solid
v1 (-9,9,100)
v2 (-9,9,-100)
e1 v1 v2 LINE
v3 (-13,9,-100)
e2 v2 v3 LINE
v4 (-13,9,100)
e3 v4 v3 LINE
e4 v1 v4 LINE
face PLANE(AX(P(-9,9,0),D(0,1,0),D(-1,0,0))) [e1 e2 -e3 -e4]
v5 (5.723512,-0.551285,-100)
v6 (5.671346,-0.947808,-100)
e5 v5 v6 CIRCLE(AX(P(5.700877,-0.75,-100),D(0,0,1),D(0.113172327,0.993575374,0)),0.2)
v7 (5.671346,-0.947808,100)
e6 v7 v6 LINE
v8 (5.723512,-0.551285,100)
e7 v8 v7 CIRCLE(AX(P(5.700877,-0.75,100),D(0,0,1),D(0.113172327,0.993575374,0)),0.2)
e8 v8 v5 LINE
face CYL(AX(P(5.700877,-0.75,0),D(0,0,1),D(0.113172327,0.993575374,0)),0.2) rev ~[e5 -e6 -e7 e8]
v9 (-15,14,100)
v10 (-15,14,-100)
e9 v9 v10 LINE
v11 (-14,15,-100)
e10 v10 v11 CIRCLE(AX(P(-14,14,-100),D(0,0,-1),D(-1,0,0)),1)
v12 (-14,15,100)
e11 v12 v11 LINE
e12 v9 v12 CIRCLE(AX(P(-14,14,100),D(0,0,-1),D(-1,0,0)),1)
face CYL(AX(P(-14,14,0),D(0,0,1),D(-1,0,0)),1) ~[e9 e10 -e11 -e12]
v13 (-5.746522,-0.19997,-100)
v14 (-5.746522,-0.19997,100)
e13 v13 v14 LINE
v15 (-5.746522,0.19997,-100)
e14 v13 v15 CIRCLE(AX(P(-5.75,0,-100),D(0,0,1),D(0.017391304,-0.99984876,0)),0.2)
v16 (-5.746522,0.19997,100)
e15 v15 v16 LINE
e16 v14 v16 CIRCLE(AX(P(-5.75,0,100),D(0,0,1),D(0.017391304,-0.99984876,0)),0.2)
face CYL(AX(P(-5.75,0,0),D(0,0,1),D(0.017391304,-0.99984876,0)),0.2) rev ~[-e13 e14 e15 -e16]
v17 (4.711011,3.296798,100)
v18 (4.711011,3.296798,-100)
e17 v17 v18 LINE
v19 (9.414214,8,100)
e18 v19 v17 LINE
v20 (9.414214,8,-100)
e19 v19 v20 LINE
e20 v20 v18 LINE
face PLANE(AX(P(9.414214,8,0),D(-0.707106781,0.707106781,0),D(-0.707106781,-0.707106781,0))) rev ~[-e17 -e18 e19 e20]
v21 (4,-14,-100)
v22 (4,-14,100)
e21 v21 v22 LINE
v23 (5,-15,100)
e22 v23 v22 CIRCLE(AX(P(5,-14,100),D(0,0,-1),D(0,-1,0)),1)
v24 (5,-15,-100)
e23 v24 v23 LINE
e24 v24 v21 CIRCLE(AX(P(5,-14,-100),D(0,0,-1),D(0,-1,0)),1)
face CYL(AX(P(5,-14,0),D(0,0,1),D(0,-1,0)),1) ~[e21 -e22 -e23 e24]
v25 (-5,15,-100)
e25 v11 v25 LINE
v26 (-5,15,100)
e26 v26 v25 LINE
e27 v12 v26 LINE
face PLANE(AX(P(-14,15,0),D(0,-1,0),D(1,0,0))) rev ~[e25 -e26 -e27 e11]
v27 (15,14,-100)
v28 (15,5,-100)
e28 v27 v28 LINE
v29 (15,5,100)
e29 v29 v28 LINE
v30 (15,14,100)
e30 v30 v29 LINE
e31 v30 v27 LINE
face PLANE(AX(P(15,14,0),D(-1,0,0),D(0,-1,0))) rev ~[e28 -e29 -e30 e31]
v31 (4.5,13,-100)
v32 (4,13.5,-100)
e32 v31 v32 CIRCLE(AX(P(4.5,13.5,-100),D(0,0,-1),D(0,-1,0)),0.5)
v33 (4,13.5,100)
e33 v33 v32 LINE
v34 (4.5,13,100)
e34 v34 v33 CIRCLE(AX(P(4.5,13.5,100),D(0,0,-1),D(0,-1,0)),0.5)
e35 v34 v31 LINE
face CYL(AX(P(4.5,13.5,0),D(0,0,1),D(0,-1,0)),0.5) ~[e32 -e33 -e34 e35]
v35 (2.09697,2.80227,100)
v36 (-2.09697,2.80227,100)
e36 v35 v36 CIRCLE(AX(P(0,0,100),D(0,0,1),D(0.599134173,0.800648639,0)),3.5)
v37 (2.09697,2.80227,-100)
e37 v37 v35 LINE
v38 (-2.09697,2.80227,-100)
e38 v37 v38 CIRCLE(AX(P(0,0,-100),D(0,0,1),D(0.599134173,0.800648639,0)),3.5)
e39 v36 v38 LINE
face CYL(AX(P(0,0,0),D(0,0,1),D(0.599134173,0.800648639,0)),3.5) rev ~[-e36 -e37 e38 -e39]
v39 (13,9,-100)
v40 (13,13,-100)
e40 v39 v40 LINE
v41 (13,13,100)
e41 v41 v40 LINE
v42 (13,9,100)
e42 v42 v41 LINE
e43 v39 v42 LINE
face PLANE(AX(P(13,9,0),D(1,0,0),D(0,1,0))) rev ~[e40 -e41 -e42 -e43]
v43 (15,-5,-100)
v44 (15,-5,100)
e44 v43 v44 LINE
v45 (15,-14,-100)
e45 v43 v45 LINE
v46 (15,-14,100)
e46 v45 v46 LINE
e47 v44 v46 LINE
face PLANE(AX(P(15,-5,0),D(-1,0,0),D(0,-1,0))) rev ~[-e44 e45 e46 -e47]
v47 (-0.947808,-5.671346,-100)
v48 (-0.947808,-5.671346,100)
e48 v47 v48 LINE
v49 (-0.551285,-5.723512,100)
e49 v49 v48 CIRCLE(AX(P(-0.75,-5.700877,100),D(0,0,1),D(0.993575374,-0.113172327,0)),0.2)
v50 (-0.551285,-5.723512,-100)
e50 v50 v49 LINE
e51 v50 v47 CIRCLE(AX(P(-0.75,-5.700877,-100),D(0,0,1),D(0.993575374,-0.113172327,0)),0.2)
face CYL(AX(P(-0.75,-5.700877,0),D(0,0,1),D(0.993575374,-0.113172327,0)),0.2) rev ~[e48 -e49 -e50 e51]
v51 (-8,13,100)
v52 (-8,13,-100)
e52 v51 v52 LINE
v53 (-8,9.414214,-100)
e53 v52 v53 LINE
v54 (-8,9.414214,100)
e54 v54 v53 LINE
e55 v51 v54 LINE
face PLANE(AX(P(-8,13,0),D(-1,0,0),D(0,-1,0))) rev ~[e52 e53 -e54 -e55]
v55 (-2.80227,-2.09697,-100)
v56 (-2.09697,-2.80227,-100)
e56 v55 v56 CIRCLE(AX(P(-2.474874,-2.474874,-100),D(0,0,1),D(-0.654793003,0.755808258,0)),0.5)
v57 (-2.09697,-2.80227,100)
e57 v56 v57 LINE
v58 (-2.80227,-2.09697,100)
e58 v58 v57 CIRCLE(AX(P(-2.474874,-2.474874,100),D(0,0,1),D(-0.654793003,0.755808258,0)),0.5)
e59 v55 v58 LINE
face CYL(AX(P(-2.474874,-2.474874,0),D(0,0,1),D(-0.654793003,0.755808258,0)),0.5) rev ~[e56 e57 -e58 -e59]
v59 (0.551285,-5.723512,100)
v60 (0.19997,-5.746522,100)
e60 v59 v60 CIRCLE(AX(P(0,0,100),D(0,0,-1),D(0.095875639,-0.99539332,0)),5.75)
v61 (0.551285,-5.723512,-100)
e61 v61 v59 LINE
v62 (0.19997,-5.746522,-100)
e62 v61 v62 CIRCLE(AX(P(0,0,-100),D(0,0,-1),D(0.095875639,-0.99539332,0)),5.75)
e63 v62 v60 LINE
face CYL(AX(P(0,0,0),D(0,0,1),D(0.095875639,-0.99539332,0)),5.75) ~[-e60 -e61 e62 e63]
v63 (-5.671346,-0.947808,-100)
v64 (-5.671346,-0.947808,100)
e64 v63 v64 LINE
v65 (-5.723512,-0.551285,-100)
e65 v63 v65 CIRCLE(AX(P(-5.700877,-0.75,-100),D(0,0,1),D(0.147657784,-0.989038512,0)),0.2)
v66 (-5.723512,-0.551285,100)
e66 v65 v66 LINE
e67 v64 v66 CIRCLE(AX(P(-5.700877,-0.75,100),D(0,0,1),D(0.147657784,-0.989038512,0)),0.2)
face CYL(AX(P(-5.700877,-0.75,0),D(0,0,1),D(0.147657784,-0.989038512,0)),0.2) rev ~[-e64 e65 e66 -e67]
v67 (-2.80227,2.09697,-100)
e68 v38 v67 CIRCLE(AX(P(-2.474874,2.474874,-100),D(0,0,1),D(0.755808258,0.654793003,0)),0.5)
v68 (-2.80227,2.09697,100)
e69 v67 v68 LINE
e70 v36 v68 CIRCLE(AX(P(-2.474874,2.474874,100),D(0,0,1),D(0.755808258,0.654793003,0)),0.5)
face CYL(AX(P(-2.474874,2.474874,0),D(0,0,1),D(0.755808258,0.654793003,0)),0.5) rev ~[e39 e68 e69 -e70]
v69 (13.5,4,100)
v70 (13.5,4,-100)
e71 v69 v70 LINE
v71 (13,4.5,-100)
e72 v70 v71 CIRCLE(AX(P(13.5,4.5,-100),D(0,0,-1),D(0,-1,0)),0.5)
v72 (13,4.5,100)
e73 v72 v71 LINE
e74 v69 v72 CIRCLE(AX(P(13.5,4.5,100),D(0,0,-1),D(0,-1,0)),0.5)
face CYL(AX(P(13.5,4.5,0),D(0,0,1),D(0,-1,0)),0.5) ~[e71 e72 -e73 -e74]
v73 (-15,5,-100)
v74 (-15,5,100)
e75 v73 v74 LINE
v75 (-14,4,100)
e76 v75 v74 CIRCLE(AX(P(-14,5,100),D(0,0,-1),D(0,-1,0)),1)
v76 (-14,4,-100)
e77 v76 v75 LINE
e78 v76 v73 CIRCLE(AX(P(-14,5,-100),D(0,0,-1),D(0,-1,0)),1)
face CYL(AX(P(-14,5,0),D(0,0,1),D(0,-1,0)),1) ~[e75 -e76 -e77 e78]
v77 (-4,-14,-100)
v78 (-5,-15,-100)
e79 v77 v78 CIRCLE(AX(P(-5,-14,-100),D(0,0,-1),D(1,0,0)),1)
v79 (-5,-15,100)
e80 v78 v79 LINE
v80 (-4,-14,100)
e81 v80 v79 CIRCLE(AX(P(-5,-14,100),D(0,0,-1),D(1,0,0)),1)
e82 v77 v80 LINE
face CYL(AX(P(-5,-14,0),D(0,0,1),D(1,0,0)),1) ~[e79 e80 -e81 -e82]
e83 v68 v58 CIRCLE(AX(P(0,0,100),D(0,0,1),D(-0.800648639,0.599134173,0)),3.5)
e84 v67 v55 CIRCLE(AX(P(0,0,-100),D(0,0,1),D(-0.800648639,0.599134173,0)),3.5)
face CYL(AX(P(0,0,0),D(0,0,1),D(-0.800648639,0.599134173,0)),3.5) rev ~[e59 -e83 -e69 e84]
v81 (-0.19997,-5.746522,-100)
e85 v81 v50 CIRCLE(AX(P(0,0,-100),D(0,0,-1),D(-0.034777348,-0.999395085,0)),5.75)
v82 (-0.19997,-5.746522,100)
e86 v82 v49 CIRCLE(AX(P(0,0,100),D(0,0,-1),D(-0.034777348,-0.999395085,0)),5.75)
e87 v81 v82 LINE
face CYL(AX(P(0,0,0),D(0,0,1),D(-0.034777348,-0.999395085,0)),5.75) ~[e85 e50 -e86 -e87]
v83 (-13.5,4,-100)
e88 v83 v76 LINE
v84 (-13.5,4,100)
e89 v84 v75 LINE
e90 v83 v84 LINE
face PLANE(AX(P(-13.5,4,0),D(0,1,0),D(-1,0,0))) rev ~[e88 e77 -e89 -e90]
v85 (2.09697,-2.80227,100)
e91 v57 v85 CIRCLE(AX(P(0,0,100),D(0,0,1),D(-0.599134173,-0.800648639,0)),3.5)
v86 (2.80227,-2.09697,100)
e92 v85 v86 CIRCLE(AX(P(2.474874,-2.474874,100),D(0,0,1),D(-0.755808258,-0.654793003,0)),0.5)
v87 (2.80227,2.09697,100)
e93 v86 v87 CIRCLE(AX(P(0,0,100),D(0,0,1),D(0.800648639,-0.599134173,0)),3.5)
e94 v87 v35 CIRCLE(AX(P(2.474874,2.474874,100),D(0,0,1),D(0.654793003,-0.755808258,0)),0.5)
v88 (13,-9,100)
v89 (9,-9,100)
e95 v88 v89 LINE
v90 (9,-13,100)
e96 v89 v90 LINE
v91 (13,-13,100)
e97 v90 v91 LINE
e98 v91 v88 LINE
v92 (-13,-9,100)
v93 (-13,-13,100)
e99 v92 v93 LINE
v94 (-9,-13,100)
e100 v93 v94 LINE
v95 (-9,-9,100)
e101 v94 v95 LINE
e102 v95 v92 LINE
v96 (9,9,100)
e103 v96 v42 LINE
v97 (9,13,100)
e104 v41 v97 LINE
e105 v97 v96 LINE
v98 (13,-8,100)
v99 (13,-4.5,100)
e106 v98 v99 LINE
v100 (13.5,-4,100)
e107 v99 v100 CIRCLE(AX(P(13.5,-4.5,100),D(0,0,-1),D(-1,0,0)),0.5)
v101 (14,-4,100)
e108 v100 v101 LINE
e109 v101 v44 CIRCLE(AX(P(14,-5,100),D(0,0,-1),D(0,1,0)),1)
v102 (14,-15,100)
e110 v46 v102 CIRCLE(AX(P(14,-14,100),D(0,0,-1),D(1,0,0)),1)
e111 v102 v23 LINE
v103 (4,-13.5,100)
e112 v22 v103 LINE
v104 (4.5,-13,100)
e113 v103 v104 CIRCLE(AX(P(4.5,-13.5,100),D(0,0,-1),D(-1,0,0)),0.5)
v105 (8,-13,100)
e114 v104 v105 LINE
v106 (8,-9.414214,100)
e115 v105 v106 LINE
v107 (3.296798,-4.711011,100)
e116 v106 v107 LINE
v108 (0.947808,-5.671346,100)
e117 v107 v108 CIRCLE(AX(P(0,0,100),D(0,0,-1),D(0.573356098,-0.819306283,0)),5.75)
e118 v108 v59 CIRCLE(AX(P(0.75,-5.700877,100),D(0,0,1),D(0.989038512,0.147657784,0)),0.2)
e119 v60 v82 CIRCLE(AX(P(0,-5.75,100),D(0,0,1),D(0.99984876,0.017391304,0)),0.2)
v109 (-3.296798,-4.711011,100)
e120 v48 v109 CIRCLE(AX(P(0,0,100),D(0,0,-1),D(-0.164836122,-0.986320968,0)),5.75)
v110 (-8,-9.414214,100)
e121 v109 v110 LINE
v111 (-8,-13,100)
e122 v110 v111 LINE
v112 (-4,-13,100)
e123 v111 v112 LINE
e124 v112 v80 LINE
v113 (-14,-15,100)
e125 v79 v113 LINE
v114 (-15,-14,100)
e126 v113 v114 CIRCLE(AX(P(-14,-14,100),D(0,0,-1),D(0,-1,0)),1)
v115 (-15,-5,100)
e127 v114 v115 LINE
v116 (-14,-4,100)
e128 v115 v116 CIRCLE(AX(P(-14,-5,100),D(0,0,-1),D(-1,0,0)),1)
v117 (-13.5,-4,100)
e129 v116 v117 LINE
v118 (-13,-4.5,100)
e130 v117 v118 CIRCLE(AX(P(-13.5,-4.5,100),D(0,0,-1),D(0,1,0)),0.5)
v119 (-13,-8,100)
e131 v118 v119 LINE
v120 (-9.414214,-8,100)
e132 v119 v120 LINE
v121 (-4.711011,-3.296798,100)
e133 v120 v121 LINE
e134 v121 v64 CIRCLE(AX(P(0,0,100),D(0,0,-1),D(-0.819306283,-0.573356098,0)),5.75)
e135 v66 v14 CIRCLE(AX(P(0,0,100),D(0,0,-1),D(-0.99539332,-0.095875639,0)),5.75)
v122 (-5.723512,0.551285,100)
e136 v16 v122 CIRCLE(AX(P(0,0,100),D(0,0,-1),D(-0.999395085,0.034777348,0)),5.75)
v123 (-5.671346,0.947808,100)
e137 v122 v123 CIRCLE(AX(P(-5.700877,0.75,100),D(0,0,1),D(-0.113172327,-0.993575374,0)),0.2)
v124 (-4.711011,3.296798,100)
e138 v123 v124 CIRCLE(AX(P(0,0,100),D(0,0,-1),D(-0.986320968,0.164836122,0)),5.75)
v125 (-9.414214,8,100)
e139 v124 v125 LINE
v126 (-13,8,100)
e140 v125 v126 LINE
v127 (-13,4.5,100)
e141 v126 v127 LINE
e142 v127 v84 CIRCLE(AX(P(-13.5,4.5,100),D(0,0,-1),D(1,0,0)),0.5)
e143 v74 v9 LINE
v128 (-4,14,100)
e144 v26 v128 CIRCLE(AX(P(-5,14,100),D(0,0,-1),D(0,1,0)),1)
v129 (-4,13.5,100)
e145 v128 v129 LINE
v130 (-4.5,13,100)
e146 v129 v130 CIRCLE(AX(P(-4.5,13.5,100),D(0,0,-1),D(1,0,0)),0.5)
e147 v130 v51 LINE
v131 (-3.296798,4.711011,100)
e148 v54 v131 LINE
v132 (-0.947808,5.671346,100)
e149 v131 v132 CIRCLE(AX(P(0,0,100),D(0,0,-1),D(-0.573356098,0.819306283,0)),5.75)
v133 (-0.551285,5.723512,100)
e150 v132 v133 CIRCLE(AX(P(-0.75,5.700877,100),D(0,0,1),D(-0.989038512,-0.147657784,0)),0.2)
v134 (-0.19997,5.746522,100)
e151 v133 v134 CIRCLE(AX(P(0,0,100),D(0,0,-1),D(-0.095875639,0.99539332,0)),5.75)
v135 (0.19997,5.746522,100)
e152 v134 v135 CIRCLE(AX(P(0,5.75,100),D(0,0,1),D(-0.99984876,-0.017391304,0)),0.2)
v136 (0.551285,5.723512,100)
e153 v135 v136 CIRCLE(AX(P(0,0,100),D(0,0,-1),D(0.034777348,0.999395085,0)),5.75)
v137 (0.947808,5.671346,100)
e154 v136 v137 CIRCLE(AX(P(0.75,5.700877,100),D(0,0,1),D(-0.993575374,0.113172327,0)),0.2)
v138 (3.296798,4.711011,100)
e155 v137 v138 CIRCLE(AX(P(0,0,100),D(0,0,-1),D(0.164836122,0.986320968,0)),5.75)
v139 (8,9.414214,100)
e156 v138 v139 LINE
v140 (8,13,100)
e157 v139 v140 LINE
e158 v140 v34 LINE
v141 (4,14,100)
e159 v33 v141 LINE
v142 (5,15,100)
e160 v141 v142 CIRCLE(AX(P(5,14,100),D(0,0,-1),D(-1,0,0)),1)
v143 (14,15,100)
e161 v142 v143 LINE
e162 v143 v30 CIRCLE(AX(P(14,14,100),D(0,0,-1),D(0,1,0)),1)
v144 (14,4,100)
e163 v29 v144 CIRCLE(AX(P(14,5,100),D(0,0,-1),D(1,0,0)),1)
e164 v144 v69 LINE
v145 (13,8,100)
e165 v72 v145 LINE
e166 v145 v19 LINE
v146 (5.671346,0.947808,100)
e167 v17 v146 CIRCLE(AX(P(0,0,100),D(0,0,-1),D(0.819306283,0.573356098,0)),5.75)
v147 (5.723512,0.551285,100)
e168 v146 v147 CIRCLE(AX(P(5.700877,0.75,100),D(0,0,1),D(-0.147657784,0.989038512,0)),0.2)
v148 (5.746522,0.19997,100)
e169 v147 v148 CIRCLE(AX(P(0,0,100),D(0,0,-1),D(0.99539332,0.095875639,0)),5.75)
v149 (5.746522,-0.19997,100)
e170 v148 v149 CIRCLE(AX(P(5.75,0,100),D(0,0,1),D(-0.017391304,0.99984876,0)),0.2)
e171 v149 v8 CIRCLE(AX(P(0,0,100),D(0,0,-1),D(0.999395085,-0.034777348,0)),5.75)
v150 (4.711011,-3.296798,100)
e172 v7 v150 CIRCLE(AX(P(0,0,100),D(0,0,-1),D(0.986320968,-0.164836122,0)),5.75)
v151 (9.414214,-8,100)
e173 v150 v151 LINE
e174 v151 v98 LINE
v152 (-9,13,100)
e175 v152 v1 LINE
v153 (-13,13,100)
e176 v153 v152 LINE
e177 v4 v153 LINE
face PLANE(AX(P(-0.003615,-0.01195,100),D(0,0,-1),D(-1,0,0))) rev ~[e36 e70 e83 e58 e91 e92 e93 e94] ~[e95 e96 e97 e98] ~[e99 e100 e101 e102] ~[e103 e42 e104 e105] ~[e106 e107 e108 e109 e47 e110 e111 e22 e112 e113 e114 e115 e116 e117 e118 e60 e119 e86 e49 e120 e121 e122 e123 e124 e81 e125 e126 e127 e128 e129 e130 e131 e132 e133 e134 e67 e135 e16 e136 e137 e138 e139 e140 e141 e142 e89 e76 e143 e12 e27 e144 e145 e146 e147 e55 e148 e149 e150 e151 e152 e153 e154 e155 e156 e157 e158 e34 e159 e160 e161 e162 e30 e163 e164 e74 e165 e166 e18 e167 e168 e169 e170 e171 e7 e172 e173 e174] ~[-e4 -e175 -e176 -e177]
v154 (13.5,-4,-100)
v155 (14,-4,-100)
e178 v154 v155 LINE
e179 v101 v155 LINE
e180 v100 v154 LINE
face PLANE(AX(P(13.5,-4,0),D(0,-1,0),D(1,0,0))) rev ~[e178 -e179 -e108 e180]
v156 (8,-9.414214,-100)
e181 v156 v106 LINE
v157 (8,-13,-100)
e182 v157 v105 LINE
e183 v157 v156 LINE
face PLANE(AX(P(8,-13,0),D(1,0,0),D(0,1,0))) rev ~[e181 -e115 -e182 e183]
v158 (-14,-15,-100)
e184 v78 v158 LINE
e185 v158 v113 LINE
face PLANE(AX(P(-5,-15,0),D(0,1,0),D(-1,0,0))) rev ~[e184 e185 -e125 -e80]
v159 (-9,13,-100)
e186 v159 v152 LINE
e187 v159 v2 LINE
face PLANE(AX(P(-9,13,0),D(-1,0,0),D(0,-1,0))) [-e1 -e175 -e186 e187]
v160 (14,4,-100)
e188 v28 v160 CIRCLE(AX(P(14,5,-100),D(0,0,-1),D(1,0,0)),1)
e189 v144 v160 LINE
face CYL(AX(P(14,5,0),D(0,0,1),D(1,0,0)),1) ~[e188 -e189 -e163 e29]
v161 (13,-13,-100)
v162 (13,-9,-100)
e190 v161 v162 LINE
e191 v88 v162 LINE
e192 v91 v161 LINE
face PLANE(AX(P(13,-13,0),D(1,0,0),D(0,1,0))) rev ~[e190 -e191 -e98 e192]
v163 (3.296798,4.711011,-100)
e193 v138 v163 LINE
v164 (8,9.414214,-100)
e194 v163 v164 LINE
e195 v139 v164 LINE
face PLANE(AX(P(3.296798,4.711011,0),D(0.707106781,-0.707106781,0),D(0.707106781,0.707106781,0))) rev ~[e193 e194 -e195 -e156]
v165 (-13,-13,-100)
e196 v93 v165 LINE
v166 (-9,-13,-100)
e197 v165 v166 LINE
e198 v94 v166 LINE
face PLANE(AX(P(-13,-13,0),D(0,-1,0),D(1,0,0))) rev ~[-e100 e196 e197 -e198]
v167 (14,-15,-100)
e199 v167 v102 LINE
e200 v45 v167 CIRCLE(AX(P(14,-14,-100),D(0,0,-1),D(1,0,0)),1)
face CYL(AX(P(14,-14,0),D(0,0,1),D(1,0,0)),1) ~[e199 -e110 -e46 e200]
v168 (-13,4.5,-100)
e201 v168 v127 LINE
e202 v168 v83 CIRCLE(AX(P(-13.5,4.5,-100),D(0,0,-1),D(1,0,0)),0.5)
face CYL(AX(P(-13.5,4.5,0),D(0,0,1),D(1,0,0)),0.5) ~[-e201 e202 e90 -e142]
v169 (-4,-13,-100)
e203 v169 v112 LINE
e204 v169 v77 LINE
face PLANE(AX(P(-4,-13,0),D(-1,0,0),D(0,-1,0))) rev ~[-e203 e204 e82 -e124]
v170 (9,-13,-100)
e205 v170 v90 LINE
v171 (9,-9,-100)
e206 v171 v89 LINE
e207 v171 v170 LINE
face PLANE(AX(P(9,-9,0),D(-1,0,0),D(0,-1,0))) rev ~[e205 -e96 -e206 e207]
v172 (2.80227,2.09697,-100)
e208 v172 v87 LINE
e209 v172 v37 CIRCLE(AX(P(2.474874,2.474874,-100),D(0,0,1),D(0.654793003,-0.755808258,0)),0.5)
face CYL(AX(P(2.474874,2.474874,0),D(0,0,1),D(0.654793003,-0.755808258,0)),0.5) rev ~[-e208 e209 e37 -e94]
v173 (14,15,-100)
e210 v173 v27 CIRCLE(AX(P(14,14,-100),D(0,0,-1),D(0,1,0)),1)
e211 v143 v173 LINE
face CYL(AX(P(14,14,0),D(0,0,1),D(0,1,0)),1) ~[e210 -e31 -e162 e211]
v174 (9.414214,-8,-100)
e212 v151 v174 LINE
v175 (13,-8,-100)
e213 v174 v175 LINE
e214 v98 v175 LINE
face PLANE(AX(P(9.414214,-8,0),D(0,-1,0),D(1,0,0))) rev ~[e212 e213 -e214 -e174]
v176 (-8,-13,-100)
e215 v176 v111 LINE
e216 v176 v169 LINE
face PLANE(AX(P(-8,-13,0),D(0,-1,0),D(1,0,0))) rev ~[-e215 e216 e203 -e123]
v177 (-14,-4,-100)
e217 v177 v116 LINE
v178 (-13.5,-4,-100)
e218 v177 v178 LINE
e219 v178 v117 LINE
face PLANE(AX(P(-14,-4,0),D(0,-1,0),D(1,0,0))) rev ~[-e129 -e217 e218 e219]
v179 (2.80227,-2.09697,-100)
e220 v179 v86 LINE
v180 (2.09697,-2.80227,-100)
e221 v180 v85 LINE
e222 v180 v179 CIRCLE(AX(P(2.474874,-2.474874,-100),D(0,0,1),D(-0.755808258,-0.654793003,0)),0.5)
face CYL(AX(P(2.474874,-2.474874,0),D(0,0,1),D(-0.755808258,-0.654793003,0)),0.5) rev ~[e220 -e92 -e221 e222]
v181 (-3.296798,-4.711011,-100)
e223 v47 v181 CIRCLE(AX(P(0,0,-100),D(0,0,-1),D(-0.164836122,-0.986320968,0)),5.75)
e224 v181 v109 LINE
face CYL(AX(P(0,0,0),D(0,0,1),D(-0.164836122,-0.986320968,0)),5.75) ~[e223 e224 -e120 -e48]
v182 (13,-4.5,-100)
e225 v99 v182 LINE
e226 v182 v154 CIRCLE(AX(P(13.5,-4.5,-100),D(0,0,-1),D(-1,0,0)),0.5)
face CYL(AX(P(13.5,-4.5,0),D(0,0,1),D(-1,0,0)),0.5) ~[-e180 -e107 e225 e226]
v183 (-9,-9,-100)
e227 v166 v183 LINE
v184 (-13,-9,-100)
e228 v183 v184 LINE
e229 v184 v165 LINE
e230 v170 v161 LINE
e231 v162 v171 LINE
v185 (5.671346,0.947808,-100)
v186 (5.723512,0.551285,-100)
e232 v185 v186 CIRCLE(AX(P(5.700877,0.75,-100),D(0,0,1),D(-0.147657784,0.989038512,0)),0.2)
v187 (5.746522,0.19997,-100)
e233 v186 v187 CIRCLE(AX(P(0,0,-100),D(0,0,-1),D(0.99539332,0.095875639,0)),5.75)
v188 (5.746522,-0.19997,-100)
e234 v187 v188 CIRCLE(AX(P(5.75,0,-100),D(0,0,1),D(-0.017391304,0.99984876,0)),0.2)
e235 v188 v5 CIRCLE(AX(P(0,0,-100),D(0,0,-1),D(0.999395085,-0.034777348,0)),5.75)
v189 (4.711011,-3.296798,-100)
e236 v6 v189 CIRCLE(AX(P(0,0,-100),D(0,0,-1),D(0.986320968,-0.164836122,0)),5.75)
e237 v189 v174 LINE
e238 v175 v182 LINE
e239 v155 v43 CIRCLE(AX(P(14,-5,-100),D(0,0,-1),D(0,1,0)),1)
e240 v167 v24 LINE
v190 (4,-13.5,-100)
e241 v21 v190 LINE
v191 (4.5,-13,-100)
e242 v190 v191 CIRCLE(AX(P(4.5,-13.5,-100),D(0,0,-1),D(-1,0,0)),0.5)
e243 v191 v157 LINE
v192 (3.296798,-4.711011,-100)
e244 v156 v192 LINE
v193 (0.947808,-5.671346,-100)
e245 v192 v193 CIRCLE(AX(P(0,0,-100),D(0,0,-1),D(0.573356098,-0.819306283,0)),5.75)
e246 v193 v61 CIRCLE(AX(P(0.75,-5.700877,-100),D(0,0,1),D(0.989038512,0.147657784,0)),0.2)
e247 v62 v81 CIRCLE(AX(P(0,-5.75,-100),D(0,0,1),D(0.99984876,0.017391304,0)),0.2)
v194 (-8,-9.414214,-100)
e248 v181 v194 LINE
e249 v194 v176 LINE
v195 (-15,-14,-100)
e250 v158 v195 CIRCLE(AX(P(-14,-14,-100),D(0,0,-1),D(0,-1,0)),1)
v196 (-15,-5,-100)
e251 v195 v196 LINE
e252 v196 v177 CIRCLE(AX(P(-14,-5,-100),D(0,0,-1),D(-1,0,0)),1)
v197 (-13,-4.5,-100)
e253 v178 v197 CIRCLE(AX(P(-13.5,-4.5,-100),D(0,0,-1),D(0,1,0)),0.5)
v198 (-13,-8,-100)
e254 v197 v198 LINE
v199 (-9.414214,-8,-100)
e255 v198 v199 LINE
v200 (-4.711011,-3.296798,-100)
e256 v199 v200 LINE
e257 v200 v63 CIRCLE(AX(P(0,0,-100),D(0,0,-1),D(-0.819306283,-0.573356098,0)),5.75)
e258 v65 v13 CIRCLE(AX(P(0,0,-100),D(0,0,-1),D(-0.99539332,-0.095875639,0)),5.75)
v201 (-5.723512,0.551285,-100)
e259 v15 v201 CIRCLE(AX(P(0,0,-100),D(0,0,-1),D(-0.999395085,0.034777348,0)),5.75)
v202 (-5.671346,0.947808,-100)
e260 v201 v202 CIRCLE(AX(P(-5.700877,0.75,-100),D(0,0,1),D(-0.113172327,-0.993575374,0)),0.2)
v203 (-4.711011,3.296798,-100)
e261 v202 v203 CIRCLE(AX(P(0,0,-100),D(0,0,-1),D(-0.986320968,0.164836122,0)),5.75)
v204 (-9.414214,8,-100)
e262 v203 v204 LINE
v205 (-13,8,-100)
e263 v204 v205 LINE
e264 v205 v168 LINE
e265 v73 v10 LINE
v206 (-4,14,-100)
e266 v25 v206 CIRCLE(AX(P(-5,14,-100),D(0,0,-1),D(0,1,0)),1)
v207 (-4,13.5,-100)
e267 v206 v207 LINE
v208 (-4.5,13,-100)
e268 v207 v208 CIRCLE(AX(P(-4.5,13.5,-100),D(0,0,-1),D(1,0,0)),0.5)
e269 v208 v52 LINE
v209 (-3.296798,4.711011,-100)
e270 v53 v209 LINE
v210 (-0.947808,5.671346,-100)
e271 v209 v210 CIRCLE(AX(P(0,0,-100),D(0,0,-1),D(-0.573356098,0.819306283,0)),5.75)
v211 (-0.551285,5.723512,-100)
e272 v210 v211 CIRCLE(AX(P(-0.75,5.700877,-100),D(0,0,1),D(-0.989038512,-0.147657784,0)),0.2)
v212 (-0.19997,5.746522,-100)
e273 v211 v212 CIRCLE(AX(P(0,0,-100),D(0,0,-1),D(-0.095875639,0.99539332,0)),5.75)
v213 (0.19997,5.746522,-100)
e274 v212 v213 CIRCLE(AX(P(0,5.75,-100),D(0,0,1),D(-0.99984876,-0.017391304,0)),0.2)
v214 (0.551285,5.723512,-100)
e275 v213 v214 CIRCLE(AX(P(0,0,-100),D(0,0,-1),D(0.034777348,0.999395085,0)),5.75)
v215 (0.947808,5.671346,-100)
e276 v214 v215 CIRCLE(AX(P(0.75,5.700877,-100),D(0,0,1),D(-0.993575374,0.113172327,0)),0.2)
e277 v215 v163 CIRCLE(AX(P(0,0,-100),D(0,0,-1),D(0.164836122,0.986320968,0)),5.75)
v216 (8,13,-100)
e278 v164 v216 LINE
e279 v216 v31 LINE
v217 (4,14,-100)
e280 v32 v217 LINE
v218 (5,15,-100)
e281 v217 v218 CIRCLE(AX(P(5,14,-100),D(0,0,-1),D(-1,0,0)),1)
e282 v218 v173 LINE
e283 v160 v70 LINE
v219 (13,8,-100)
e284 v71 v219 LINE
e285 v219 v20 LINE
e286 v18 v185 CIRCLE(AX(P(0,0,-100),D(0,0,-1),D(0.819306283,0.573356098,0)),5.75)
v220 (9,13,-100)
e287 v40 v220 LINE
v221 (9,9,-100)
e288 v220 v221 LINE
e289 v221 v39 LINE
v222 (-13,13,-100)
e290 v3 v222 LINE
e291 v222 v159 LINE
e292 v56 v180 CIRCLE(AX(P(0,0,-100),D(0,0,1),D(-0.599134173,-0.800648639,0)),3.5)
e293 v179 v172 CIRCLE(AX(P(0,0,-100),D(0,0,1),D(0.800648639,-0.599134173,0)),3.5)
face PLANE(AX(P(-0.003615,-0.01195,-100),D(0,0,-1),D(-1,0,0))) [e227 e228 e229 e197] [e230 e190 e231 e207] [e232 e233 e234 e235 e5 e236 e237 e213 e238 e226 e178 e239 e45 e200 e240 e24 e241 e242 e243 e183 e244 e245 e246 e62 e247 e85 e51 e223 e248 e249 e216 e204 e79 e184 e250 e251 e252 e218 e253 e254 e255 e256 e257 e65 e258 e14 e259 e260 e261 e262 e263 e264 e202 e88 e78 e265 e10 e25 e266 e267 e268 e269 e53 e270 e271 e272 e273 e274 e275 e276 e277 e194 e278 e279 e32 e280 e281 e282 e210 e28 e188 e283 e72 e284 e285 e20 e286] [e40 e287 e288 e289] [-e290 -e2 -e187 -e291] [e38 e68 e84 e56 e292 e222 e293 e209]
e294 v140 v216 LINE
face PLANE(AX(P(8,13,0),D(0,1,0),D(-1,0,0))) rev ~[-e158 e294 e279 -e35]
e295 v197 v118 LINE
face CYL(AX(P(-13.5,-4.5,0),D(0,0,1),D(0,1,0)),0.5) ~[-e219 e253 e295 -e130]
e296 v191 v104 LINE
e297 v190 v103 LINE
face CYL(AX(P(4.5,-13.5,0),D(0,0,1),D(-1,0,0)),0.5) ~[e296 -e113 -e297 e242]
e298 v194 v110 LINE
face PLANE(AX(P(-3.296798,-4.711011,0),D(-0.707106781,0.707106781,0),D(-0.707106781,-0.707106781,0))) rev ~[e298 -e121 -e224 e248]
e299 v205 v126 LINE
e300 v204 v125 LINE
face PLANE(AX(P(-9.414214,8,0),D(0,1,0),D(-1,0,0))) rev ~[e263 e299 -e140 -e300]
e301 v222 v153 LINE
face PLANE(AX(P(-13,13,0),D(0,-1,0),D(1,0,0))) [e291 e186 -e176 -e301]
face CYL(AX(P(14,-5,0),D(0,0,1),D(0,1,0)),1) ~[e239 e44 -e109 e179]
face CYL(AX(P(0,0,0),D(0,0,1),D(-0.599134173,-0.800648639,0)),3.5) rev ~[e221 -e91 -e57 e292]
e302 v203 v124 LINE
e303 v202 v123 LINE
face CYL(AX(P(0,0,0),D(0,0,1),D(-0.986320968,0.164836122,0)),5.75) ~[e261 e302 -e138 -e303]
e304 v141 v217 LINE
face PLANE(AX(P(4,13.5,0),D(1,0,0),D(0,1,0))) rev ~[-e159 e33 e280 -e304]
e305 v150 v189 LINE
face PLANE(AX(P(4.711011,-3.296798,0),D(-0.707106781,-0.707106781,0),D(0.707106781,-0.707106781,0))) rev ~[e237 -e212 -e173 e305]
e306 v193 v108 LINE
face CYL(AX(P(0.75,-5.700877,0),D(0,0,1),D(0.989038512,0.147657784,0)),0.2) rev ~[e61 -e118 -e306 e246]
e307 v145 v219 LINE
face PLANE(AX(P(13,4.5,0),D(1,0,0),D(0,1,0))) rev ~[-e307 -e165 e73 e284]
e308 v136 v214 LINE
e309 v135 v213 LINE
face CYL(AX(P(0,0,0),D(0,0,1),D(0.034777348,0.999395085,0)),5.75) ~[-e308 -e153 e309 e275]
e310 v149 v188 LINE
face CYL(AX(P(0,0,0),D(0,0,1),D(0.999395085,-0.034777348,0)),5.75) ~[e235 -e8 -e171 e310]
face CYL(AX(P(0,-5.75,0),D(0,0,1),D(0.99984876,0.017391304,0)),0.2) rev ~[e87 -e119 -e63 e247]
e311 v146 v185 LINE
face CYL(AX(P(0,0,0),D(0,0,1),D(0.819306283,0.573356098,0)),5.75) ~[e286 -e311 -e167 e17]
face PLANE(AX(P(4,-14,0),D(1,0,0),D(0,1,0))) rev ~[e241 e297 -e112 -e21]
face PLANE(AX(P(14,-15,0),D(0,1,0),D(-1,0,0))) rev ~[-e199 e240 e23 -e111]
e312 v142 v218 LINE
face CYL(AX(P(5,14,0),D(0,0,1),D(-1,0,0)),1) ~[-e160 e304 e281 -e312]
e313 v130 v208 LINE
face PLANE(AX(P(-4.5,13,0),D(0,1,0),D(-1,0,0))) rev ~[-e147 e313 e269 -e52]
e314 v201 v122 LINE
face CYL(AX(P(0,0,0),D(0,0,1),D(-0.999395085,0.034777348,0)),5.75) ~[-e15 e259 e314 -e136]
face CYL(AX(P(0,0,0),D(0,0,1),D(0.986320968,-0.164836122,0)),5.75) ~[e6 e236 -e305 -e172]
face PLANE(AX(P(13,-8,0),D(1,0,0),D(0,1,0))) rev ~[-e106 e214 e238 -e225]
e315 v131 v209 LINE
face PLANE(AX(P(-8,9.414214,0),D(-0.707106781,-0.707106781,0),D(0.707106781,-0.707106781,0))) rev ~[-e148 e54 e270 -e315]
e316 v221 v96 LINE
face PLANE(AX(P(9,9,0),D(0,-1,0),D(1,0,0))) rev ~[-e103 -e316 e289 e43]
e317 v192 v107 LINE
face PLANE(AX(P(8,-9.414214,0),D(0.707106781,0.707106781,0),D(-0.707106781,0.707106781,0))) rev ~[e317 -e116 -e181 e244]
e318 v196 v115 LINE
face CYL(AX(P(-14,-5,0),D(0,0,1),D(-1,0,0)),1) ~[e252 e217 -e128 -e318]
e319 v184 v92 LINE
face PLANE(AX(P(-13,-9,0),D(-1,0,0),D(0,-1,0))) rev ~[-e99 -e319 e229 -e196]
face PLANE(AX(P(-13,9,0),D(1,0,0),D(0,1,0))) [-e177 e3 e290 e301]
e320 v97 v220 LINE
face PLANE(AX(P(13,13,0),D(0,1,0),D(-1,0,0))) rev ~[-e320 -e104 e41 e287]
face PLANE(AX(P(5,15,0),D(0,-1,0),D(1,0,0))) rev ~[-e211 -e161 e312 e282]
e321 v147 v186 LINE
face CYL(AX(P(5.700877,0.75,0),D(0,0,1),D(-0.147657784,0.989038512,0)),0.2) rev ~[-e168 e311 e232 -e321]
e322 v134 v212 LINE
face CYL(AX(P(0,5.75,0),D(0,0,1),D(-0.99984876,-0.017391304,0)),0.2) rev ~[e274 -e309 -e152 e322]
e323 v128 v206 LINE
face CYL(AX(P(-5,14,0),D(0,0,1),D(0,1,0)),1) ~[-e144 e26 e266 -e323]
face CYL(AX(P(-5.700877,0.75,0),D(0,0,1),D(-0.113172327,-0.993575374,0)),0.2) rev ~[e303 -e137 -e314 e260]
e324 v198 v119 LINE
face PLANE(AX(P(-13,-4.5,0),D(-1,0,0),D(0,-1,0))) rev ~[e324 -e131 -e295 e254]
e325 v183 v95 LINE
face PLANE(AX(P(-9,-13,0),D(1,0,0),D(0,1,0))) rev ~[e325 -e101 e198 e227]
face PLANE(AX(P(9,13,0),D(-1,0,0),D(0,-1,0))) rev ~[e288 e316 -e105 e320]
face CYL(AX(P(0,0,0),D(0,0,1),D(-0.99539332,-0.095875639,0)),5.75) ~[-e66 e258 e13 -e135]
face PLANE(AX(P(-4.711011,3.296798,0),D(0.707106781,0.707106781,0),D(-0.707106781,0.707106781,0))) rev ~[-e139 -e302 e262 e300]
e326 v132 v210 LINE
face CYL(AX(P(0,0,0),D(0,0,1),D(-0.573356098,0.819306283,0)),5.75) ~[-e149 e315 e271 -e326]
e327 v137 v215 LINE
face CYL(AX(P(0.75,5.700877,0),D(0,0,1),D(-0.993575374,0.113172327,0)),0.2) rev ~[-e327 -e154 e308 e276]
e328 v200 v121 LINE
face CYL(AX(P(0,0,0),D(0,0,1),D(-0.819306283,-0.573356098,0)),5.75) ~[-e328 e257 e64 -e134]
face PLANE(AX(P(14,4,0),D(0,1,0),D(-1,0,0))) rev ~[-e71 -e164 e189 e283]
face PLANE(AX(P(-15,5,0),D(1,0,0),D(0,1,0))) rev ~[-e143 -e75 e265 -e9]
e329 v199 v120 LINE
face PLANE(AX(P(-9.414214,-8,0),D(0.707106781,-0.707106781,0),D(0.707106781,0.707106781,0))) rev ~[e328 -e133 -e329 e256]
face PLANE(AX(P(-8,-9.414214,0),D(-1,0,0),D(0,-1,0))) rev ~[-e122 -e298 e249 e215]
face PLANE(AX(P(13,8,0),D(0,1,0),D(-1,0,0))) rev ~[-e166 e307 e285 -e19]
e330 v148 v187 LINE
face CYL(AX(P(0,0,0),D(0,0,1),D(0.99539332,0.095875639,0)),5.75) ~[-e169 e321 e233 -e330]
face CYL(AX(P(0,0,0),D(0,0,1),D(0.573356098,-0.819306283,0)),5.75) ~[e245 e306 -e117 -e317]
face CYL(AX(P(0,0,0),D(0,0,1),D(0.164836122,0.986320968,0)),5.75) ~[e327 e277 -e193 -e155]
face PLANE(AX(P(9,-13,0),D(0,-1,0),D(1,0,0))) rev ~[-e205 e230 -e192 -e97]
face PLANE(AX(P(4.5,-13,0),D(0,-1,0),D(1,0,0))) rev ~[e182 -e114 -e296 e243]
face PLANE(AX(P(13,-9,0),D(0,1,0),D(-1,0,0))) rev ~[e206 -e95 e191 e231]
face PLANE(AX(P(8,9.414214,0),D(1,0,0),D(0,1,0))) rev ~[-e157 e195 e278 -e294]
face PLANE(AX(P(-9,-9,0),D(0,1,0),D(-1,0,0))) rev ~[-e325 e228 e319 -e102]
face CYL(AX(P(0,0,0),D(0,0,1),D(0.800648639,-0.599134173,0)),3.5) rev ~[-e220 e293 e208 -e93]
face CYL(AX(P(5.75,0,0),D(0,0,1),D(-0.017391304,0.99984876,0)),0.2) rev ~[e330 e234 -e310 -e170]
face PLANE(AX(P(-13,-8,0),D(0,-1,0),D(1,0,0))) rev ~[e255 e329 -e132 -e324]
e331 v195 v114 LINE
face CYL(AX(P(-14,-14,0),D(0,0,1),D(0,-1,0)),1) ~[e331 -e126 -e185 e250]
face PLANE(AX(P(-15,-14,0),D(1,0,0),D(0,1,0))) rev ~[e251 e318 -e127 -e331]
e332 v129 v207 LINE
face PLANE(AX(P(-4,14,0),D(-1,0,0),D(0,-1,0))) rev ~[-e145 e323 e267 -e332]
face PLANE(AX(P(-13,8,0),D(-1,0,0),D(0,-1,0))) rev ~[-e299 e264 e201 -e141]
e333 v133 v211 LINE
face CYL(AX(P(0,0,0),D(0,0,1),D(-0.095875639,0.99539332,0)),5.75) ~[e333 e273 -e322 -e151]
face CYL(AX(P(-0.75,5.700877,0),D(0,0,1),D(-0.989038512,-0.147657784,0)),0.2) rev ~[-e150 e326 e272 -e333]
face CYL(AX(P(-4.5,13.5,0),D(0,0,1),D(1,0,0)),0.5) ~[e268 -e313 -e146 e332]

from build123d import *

# Parameters (mm, degrees)
BOSS_EXTRUDE1_DEPTH = 100


with BuildPart() as part:
    # Sketch1 → Boss-Extrude1 (new, symmetric)
    with BuildSketch(Plane.XY):
        with BuildLine():
            Line((-15, 5.000000000000009), (-15, 13.999999999999993))
            ThreePointArc((-15, 13.999999999999993), (-14.707106781186548, 14.70710678118655), (-13.999999999999991, 15.000000000000002))
            Line((-13.999999999999991, 15.000000000000002), (-5.000000000000007, 15.000000000000002))
            ThreePointArc((-5.000000000000007, 15.000000000000002), (-4.292893218813452, 14.707106781186548), (-4, 13.999999999999993))
            Line((-4, 13.999999999999993), (-4, 13.500000000000004))
            ThreePointArc((-4, 13.500000000000004), (-4.146446609406727, 13.146446609406725), (-4.500000000000005, 13))
            Line((-4.500000000000005, 13), (-8.000000000000005, 13.000000000000016))
            Line((-8.000000000000005, 13.000000000000016), (-7.999999999999849, 9.414213562373025))
            Line((-7.999999999999849, 9.414213562373025), (-3.2967975633251787, 4.711011125698298))
            ThreePointArc((-3.2967975633251787, 4.711011125698298), (-2.175943249756075, 5.3223839558829855), (-0.9478077024559322, 5.67134556866048))
            ThreePointArc((-0.9478077024559322, 5.67134556866048), (-0.7239130434782917, 5.502585747217556), (-0.5512849251433612, 5.72351159091246))
            ThreePointArc((-0.5512849251433612, 5.72351159091246), (-0.3758034914685008, 5.737706138850234), (-0.1999697519659725, 5.746521739130396))
            ThreePointArc((-0.1999697519659725, 5.746521739130396), (-0.14018621156536692, 5.607354193587874), (-2.429e-14, 5.549999999999962))
            ThreePointArc((-2.429e-14, 5.549999999999962), (0.14018621156537447, 5.607354193587863), (0.1999697519659689, 5.746521739130433))
            ThreePointArc((0.1999697519659689, 5.746521739130433), (0.37580349146849373, 5.737706138850271), (0.5512849251433537, 5.723511590912496))
            ThreePointArc((0.5512849251433537, 5.723511590912496), (0.7239130434782822, 5.502585747217588), (0.9478077024559303, 5.671345568660512))
            ThreePointArc((0.9478077024559303, 5.671345568660512), (2.1759432497560995, 5.32238395588301), (3.2967975633252076, 4.711011125698281))
            Line((3.2967975633252076, 4.711011125698281), (8.000000000000027, 9.414213562373071))
            Line((8.000000000000027, 9.414213562373071), (8.000000000000039, 12.999999999999977))
            Line((8.000000000000039, 12.999999999999977), (4.500000000000051, 12.999999999999986))
            ThreePointArc((4.500000000000051, 12.999999999999986), (4.146446609406774, 13.146446609406713), (4.000000000000049, 13.499999999999991))
            Line((4.000000000000049, 13.499999999999991), (4.000000000000051, 13.999999999999977))
            ThreePointArc((4.000000000000051, 13.999999999999977), (4.292893218813505, 14.70710678118653), (5.00000000000006, 14.999999999999982))
            Line((5.00000000000006, 14.999999999999982), (14.000000000000046, 14.99999999999995))
            ThreePointArc((14.000000000000046, 14.99999999999995), (14.7071067811866, 14.707106781186495), (15.00000000000005, 13.99999999999994))
            Line((15.00000000000005, 13.99999999999994), (15.000000000000018, 4.999999999999955))
            ThreePointArc((15.000000000000018, 4.999999999999955), (14.707106781186562, 4.2928932188134015), (14.000000000000007, 3.9999999999999516))
            Line((14.000000000000007, 3.9999999999999516), (13.500000000000018, 3.9999999999999534))
            ThreePointArc((13.500000000000018, 3.9999999999999534), (13.146446609406741, 4.146446609406682), (13.000000000000014, 4.499999999999961))
            Line((13.000000000000014, 4.499999999999961), (13.000000000000044, 7.99999999999996))
            Line((13.000000000000044, 7.99999999999996), (9.414213562373115, 7.9999999999999725))
            Line((9.414213562373115, 7.9999999999999725), (4.711011125698292, 3.2967975633251885))
            ThreePointArc((4.711011125698292, 3.2967975633251885), (5.322383955882988, 2.1759432497560716), (5.671345568660484, 0.9478077024559123))
            ThreePointArc((5.671345568660484, 0.9478077024559123), (5.502585747217559, 0.7239130434782725), (5.723511590912461, 0.5512849251433413))
            ThreePointArc((5.723511590912461, 0.5512849251433413), (5.7377061388502355, 0.37580349146848013), (5.746521739130397, 0.19996975196595243))
            ThreePointArc((5.746521739130397, 0.19996975196595243), (5.607354193587875, 0.14018621156534747), (5.549999999999962, 4.91e-15))
            ThreePointArc((5.549999999999962, 4.91e-15), (5.60735419358786, -0.1401862115653925), (5.746521739130428, -0.1999697519659527))
            ThreePointArc((5.746521739130428, -0.1999697519659527), (5.737706138850272, -0.3758034914684969), (5.723511590912494, -0.5512849251433738))
            ThreePointArc((5.723511590912494, -0.5512849251433738), (5.502585747217585, -0.7239130434783013), (5.6713455686605085, -0.94780770245595))
            ThreePointArc((5.6713455686605085, -0.94780770245595), (5.3223839558830015, -2.175943249756118), (4.711011125698269, -3.296797563325224))
            Line((4.711011125698269, -3.296797563325224), (9.414213562373133, -7.999999999999714))
            Line((9.414213562373133, -7.999999999999714), (13.000000000000002, -7.99999999999998))
            Line((13.000000000000002, -7.99999999999998), (12.999999999999952, -4.499999999999787))
            ThreePointArc((12.999999999999952, -4.499999999999787), (13.146446609406702, -4.146446609406478), (13.50000000000003, -3.999999999999776))
            Line((13.50000000000003, -3.999999999999776), (14.000000000000144, -3.9999999999998517))
            ThreePointArc((14.000000000000144, -3.9999999999998517), (14.707106781186603, -4.292893218813357), (15.000000000000002, -4.999999999999859))
            Line((15.000000000000002, -4.999999999999859), (15.000000000000004, -14.000000000000002))
            ThreePointArc((15.000000000000004, -14.000000000000002), (14.70710678118655, -14.707106781186548), (14.000000000000004, -15.000000000000004))
            Line((14.000000000000004, -15.000000000000004), (5.000000000000161, -15.000000000000002))
            ThreePointArc((5.000000000000161, -15.000000000000002), (4.2928932188135525, -14.707106781186496), (4.000000000000154, -13.999999999999844))
            Line((4.000000000000154, -13.999999999999844), (4.000000000000229, -13.499999999999826))
            ThreePointArc((4.000000000000229, -13.499999999999826), (4.146446609406977, -13.1464466094066), (4.500000000000221, -12.999999999999897))
            Line((4.500000000000221, -12.999999999999897), (8.000000000000153, -12.999999999999817))
            Line((8.000000000000153, -12.999999999999817), (7.99999999999994, -9.414213562373144))
            Line((7.99999999999994, -9.414213562373144), (3.296797563325172, -4.711011125698304))
            ThreePointArc((3.296797563325172, -4.711011125698304), (2.175943249756054, -5.322383955882996), (0.9478077024558925, -5.671345568660487))
            ThreePointArc((0.9478077024558925, -5.671345568660487), (0.7239130434782536, -5.502585747217561), (0.5512849251433212, -5.723511590912463))
            ThreePointArc((0.5512849251433212, -5.723511590912463), (0.3758034914684597, -5.7377061388502355), (0.19996975196593236, -5.746521739130398))
            ThreePointArc((0.19996975196593236, -5.746521739130398), (0.14018621156532793, -5.6073541935878755), (-1.447e-14, -5.549999999999962))
            ThreePointArc((-1.447e-14, -5.549999999999962), (-0.14018621156541247, -5.60735419358786), (-0.19996975196595235, -5.746521739130428))
            ThreePointArc((-0.19996975196595235, -5.746521739130428), (-0.37580349146850606, -5.737706138850271), (-0.5512849251433938, -5.723511590912492))
            ThreePointArc((-0.5512849251433938, -5.723511590912492), (-0.7239130434783215, -5.502585747217583), (-0.9478077024559699, -5.671345568660507))
            ThreePointArc((-0.9478077024559699, -5.671345568660507), (-2.175943249756137, -5.322383955882994), (-3.2967975633252404, -4.711011125698258))
            Line((-3.2967975633252404, -4.711011125698258), (-7.99999999999998, -9.414213562373098))
            Line((-7.99999999999998, -9.414213562373098), (-7.99999999999998, -13.000000000000002))
            Line((-7.99999999999998, -13.000000000000002), (-4.000000000000001, -13.000000000000002))
            Line((-4.000000000000001, -13.000000000000002), (-4.000000000000001, -13.999999999999995))
            ThreePointArc((-4.000000000000001, -13.999999999999995), (-4.292893218813453, -14.70710678118655), (-5.000000000000008, -15.000000000000002))
            Line((-5.000000000000008, -15.000000000000002), (-13.999999999999998, -15.000000000000004))
            ThreePointArc((-13.999999999999998, -15.000000000000004), (-14.707106781186546, -14.707106781186553), (-15.000000000000004, -14.000000000000005))
            Line((-15.000000000000004, -14.000000000000005), (-15.000000000000002, -5.0000000000000115))
            ThreePointArc((-15.000000000000002, -5.0000000000000115), (-14.70710678118655, -4.292893218813457), (-13.999999999999995, -4.000000000000004))
            Line((-13.999999999999995, -4.000000000000004), (-13.500000000000007, -4.000000000000004))
            ThreePointArc((-13.500000000000007, -4.000000000000004), (-13.14644660940673, -4.1464466094067305), (-13.000000000000004, -4.500000000000007))
            Line((-13.000000000000004, -4.500000000000007), (-13.000000000000002, -8.000000000000002))
            Line((-13.000000000000002, -8.000000000000002), (-9.414213562373073, -8))
            Line((-9.414213562373073, -8), (-4.711011125698316, -3.2967975633251556))
            ThreePointArc((-4.711011125698316, -3.2967975633251556), (-5.322383955883002, -2.175943249756036), (-5.67134556866049, -0.9478077024558731))
            ThreePointArc((-5.67134556866049, -0.9478077024558731), (-5.502585747217563, -0.7239130434782345), (-5.723511590912465, -0.5512849251433016))
            ThreePointArc((-5.723511590912465, -0.5512849251433016), (-5.737706138850236, -0.3758034914684416), (-5.746521739130398, -0.1999697519659127))
            ThreePointArc((-5.746521739130398, -0.1999697519659127), (-5.607354193587914, -0.1401862115652944), (-5.549999999999999, -2.5e-16))
            ThreePointArc((-5.549999999999999, -2.5e-16), (-5.607354193587905, 0.1401862115653443), (-5.746521739130434, 0.19996975196594882))
            ThreePointArc((-5.746521739130434, 0.19996975196594882), (-5.737706138850273, 0.375803491468473), (-5.723511590912498, 0.5512849251433337))
            ThreePointArc((-5.723511590912498, 0.5512849251433337), (-5.502585747217591, 0.7239130434782631), (-5.671345568660516, 0.9478077024559104))
            ThreePointArc((-5.671345568660516, 0.9478077024559104), (-5.322383955883011, 2.17594324975609), (-4.711011125698278, 3.29679756332521))
            Line((-4.711011125698278, 3.29679756332521), (-9.414213562372948, 7.9999999999999325))
            Line((-9.414213562372948, 7.9999999999999325), (-13.000000000000005, 7.999999999999993))
            Line((-13.000000000000005, 7.999999999999993), (-13.000000000000002, 4.500000000000005))
            ThreePointArc((-13.000000000000002, 4.500000000000005), (-13.146446609406727, 4.146446609406728), (-13.500000000000005, 4.000000000000002))
            Line((-13.500000000000005, 4.000000000000002), (-13.999999999999991, 4.000000000000002))
            ThreePointArc((-13.999999999999991, 4.000000000000002), (-14.707106781186546, 4.292893218813454), (-15, 5.000000000000009))
        make_face()
        Polygon((-13.000000000000007, 9.000000000000016), (-12.999999999999853, 13.000000000000005), (-9.000000000000007, 13.000000000000016), (-8.999999999999853, 8.999999999999956), align=None, mode=Mode.SUBTRACT)
        Polygon((13.000000000000043, 12.999999999999956), (9.000000000000062, 12.999999999999975), (9.000000000000048, 8.999999999999975), (13.000000000000048, 8.999999999999961), align=None, mode=Mode.SUBTRACT)
        Polygon((13.000000000000004, -13.000000000000002), (13.000000000000004, -9.000000000000004), (9.000000000000062, -8.999999999999746), (9.000000000000105, -12.99999999999975), align=None, mode=Mode.SUBTRACT)
        Polygon((-13.000000000000002, -13.000000000000004), (-9.000000000000004, -13.000000000000004), (-9.000000000000004, -9.000000000000005), (-13, -9.000000000000007), align=None, mode=Mode.SUBTRACT)
        with BuildLine():
            ThreePointArc((3e-16, 3.5000000000000018), (-1.105000944452059, 3.320989748969435), (-2.096969605215332, 2.8022702358628915))
            ThreePointArc((-2.096969605215332, 2.8022702358628915), (-2.8284271247461614, 2.8284271247461947), (-2.8022702358628897, 2.0969696052153344))
            ThreePointArc((-2.8022702358628897, 2.0969696052153344), (-3.320989748969433, 1.1050009444520614), (-3.5, 1.73e-15))
            ThreePointArc((-3.5, 1.73e-15), (-3.320989748969439, -1.1050009444520394), (-2.8022702358629137, -2.096969605215303))
            ThreePointArc((-2.8022702358629137, -2.096969605215303), (-2.828427124746224, -2.8284271247461628), (-2.0969696052153637, -2.802270235862868))
            ThreePointArc((-2.0969696052153637, -2.802270235862868), (-1.1050009444520896, -3.3209897489694247), (-2.474e-14, -3.5000000000000018))
            ThreePointArc((-2.474e-14, -3.5000000000000018), (1.1050009444520363, -3.3209897489694424), (2.0969696052153126, -2.8022702358629066))
            ThreePointArc((2.0969696052153126, -2.8022702358629066), (2.8284271247461725, -2.828427124746214), (2.8022702358628746, -2.096969605215354))
            ThreePointArc((2.8022702358628746, -2.096969605215354), (3.3209897489694282, -1.1050009444520785), (3.5000000000000018, -1.252e-14))
            ThreePointArc((3.5000000000000018, -1.252e-14), (3.320989748969439, 1.1050009444520479), (2.802270235862899, 2.096969605215322))
            ThreePointArc((2.802270235862899, 2.096969605215322), (2.828427124746204, 2.828427124746182), (2.096969605215344, 2.802270235862882))
            ThreePointArc((2.096969605215344, 2.802270235862882), (1.1050009444520668, 3.320989748969432), (3e-16, 3.5000000000000018))
        make_face(mode=Mode.SUBTRACT)
    extrude(amount=BOSS_EXTRUDE1_DEPTH, both=True)


solid = part.part
